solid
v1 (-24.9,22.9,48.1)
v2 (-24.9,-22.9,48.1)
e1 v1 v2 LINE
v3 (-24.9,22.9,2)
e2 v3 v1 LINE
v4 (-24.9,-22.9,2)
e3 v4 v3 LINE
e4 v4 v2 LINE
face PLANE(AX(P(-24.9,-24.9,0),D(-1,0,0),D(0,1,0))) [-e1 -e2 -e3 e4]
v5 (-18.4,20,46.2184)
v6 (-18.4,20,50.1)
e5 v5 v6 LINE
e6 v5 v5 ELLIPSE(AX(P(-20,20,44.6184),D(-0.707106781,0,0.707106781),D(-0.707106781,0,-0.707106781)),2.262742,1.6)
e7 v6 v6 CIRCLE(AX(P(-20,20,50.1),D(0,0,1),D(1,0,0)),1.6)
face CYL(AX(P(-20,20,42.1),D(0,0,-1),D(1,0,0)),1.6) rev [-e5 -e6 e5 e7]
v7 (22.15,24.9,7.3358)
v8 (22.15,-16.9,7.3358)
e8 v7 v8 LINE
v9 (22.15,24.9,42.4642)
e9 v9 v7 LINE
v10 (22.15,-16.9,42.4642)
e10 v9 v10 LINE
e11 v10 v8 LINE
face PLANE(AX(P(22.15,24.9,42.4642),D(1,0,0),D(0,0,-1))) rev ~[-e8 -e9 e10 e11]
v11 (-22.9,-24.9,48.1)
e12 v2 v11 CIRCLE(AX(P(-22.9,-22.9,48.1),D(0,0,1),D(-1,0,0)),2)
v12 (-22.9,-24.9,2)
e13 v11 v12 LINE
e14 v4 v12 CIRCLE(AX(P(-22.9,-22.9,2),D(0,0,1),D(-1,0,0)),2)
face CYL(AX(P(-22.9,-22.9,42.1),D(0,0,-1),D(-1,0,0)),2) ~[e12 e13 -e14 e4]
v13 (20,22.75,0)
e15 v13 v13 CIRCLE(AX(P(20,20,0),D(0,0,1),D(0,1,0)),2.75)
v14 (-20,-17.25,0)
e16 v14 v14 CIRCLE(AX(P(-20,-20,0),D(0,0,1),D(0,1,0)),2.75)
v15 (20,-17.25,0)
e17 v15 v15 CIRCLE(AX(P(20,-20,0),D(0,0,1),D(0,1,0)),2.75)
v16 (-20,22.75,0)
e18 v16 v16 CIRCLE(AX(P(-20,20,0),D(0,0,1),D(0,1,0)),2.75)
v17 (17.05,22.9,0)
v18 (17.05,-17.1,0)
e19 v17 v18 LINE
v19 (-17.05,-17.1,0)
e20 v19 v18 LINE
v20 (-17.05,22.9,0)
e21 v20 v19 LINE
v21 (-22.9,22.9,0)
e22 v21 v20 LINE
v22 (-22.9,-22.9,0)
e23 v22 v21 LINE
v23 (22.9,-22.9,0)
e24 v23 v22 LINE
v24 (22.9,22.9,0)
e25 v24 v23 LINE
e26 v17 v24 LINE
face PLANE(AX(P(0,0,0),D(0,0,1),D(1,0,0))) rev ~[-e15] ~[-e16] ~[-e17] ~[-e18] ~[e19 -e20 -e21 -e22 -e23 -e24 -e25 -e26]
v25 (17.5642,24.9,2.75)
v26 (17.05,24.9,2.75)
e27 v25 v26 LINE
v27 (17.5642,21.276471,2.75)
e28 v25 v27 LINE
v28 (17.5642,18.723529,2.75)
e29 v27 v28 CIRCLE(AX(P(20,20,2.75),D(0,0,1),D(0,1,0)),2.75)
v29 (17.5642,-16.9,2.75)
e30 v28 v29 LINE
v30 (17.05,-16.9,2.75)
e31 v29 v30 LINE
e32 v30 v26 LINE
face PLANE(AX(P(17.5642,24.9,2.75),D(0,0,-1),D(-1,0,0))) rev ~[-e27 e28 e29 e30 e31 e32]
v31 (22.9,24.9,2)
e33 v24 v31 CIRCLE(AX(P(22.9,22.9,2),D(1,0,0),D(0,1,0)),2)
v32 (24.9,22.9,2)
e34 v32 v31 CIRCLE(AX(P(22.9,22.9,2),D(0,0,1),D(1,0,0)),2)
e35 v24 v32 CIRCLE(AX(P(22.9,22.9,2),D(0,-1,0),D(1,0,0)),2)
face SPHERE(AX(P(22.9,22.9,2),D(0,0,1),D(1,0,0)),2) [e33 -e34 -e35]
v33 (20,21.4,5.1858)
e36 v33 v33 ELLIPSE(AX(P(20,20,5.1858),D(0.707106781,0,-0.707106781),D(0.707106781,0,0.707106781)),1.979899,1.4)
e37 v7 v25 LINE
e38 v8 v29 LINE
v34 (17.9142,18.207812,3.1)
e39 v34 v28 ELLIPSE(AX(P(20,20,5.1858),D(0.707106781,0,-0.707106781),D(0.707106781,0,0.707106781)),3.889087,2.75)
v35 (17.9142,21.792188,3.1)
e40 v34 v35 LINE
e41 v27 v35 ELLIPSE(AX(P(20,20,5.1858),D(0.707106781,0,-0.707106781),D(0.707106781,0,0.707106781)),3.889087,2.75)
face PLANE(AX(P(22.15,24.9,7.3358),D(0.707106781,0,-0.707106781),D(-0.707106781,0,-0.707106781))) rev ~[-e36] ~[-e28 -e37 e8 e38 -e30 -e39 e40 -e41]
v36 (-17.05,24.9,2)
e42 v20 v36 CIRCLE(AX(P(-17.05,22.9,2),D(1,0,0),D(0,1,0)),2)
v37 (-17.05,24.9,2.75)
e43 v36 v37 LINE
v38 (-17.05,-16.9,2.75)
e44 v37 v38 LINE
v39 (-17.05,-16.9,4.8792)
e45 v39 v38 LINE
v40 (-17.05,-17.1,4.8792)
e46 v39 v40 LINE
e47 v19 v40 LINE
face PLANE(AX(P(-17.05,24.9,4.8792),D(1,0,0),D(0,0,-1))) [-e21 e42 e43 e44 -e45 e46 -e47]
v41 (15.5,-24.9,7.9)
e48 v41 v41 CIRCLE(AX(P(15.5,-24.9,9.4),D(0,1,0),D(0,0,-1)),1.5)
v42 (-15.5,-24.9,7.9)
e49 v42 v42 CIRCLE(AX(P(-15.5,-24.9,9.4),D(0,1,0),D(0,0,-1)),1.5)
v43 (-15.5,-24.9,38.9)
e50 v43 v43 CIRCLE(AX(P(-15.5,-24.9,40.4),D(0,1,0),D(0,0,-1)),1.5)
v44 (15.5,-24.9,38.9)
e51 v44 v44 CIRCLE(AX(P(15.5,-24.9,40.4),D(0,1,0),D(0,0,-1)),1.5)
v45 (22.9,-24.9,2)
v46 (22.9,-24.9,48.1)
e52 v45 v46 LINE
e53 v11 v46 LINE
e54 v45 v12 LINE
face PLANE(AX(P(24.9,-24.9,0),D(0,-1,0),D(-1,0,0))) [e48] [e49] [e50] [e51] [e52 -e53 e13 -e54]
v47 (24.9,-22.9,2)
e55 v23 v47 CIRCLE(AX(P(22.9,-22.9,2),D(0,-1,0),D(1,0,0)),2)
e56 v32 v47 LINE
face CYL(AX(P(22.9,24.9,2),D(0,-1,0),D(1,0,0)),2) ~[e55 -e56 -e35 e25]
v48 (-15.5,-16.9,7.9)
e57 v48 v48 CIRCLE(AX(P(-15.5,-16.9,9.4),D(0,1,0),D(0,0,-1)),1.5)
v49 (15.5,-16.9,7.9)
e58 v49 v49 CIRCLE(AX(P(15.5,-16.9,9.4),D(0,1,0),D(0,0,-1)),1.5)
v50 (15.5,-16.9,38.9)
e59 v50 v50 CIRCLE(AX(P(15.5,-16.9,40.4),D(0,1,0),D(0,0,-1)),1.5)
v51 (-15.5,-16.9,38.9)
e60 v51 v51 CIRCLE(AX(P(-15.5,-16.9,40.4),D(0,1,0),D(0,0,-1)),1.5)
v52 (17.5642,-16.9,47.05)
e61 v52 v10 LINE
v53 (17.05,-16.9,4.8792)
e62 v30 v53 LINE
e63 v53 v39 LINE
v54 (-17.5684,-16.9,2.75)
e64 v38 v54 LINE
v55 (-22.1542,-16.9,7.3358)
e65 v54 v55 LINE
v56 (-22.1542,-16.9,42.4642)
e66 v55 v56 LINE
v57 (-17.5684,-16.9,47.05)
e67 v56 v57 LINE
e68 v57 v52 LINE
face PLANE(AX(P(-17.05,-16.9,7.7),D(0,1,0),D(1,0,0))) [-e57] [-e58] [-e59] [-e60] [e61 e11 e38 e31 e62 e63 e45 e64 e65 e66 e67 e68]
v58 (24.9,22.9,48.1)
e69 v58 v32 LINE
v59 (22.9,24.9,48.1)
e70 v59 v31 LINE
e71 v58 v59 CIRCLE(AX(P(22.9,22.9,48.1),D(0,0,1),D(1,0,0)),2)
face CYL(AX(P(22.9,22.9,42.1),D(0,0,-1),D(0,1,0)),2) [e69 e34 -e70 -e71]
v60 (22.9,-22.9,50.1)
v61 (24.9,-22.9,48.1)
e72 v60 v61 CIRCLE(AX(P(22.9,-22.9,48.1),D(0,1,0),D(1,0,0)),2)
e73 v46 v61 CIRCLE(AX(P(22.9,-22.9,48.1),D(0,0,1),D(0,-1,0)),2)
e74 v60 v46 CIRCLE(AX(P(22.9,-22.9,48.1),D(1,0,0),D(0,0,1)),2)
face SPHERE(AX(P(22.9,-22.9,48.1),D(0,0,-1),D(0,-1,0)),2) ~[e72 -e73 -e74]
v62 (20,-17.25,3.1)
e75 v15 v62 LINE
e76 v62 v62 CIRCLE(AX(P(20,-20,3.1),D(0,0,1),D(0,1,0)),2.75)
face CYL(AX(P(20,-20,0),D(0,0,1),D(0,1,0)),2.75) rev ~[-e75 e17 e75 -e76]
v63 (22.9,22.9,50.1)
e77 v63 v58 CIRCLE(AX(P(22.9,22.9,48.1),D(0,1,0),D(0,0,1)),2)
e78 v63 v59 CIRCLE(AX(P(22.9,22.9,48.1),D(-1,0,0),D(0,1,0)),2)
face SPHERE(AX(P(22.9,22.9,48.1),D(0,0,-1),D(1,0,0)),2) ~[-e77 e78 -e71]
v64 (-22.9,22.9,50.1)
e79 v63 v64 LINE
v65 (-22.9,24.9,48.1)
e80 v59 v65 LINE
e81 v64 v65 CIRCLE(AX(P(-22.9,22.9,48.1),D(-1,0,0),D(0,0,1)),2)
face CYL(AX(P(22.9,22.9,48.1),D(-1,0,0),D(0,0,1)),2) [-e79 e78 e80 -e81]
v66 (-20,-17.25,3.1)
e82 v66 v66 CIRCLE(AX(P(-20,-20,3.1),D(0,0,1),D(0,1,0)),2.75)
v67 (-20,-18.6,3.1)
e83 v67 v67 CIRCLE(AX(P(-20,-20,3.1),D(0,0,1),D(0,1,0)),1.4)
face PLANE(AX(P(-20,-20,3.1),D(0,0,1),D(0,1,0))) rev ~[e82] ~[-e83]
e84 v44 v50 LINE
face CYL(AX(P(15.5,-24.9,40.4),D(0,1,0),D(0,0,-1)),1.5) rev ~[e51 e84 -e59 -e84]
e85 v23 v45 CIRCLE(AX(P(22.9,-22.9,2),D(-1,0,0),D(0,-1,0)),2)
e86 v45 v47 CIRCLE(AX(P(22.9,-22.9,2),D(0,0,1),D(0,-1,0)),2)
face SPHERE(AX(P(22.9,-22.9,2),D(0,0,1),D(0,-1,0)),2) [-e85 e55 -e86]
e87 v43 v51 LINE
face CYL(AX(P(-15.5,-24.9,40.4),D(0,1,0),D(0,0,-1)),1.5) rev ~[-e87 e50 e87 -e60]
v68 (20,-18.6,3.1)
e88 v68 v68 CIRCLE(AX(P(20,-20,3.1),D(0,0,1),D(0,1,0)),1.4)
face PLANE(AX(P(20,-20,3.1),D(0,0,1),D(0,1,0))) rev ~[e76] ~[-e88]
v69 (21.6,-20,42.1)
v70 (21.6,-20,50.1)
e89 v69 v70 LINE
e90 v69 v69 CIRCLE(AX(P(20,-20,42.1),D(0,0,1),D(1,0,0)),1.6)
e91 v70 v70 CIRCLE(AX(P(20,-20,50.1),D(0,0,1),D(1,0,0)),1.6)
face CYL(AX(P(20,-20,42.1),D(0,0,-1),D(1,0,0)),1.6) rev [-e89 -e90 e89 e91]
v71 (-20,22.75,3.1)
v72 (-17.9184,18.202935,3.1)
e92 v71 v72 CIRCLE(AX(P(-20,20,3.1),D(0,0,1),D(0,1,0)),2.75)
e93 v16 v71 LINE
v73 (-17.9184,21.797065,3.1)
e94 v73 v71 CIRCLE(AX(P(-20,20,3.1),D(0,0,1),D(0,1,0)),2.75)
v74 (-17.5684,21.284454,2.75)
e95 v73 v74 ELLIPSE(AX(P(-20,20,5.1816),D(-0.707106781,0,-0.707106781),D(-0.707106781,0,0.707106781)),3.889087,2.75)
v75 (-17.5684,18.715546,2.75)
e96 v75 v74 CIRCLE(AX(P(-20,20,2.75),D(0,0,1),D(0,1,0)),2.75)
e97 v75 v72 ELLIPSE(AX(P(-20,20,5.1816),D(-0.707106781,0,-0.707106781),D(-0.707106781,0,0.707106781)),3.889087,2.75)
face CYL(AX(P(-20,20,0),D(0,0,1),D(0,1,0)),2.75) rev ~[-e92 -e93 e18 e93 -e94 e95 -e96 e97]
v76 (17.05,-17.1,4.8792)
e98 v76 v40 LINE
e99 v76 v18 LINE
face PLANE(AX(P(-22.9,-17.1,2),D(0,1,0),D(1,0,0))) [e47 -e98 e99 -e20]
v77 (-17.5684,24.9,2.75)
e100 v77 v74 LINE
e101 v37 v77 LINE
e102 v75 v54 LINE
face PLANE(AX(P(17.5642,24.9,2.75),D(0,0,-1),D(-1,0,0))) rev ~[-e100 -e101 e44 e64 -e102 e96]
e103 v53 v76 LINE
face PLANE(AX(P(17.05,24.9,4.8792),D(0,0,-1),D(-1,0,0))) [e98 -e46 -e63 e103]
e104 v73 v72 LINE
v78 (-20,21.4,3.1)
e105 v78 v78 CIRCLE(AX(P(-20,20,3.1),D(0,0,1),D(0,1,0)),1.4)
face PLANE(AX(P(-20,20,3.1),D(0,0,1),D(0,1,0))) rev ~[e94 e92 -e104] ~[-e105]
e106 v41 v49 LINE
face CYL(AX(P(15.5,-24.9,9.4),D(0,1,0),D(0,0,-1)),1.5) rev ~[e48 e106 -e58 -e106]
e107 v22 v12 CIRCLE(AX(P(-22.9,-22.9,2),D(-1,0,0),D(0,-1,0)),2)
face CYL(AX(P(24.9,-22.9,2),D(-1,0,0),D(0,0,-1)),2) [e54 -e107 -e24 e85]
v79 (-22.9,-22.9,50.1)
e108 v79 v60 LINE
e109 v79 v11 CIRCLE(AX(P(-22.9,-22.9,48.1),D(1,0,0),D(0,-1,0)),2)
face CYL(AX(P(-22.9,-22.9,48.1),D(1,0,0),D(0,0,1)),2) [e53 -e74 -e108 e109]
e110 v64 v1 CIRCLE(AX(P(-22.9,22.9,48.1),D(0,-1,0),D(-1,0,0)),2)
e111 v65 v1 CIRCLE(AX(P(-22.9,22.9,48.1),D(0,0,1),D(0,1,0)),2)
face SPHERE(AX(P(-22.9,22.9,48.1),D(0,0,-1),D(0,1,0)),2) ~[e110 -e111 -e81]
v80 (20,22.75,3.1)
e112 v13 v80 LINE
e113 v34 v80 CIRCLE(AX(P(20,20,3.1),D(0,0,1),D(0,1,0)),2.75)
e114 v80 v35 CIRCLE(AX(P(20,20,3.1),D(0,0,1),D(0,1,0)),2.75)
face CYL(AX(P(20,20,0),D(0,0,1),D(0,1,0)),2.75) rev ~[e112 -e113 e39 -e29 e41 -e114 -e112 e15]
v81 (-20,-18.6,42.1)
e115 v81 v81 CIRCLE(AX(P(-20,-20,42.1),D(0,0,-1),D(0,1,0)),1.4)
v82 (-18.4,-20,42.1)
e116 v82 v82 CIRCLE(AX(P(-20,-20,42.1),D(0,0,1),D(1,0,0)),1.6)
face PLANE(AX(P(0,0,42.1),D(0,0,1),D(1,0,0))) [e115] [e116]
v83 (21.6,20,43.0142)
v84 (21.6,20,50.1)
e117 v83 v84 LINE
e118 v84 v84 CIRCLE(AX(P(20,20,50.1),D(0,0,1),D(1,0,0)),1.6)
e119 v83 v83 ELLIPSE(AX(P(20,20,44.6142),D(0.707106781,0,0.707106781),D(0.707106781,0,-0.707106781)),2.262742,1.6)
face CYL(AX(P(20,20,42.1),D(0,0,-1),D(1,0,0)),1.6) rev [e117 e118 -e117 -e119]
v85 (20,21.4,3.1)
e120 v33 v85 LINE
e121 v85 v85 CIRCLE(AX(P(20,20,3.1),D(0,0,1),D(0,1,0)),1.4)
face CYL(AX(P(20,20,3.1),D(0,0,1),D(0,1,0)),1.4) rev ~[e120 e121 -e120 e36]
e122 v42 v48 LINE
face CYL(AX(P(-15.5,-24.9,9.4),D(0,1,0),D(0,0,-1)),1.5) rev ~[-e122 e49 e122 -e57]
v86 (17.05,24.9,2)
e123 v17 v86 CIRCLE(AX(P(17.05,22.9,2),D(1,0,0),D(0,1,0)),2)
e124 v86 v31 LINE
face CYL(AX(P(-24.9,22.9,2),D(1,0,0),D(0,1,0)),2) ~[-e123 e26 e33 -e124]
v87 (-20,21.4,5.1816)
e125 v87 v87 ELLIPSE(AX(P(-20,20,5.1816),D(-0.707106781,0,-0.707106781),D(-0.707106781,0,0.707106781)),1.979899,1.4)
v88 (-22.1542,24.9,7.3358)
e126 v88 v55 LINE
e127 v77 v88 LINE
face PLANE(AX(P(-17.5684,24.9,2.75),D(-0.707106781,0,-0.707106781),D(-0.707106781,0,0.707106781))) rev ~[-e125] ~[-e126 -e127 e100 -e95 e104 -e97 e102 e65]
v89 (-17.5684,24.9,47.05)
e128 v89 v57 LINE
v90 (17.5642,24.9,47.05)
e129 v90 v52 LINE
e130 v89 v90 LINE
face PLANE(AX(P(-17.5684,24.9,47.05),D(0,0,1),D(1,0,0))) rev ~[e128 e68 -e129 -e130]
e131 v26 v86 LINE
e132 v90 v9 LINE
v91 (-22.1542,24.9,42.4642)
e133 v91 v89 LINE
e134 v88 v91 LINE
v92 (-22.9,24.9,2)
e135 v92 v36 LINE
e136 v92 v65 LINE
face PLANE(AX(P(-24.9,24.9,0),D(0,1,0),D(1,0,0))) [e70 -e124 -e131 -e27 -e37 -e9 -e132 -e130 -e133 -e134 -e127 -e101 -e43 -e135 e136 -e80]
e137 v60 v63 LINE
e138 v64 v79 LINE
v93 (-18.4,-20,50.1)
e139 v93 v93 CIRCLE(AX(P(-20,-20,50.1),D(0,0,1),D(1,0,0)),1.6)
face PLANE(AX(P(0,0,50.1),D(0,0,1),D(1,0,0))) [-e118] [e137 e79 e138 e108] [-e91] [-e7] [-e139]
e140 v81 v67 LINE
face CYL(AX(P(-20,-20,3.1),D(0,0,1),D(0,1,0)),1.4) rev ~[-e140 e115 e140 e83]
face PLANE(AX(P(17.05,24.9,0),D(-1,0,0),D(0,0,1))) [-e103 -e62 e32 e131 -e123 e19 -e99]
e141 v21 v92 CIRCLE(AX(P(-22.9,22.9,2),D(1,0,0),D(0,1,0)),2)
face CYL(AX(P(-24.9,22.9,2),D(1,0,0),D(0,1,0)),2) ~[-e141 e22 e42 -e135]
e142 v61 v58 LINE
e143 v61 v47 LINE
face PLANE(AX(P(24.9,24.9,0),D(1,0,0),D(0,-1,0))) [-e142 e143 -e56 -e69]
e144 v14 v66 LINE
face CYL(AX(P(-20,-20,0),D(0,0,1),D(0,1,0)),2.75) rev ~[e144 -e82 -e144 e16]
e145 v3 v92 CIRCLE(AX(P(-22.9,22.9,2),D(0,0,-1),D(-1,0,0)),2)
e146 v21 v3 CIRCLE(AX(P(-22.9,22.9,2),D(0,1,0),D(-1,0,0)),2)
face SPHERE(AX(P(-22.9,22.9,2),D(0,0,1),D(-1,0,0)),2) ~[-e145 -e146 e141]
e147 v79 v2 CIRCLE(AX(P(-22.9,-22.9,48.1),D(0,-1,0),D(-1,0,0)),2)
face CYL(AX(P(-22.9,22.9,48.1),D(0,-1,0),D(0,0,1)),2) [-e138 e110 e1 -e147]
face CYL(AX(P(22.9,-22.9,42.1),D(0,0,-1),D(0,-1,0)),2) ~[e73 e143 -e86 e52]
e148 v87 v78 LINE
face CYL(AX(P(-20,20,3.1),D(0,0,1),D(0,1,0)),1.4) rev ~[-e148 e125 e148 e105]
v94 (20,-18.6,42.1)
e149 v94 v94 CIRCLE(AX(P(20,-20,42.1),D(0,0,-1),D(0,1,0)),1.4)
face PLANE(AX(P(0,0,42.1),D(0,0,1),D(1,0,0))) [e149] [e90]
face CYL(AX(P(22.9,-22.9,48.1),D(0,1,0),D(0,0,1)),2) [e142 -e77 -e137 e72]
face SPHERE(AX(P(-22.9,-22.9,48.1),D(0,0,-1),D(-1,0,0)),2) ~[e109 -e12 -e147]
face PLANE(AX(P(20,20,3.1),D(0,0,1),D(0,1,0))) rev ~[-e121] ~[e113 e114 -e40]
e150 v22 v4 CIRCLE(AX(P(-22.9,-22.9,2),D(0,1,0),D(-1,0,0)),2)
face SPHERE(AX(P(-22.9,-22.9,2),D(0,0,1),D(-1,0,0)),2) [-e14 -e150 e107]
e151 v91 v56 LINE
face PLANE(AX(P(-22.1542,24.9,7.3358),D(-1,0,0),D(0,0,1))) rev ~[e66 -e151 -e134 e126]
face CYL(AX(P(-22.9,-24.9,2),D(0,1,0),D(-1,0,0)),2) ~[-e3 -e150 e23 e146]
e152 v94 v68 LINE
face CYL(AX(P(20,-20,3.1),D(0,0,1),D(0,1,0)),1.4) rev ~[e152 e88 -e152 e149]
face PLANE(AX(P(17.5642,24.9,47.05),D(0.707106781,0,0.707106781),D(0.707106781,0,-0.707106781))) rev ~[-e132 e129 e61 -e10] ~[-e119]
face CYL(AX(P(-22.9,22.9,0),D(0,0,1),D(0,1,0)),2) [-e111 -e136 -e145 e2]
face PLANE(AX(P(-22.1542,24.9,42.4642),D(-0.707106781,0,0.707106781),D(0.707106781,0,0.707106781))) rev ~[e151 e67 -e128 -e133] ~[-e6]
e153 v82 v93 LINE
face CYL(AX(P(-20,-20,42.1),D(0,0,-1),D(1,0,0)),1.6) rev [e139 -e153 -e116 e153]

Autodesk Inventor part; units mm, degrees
ref_plane "YZ Plane" through (0, 0, 0) normal (1, 0, 0) x (0, 1, 0)
ref_plane "XZ Plane" through (0, 0, 0) normal (0, 1, 0) x (-1, 0, 0)
ref_plane "XY Plane" through (0, 0, 0) normal (0, 0, 1) x (1, 0, 0)
sketch "Sketch1" plane through (0, 0, 0) normal (0, 0, 1) x (1, 0, 0)
  line L0 (-24.9, 24.9) -> (24.9, 24.9)
  line L1 (24.9, 24.9) -> (24.9, -24.9)
  line L2 (24.9, -24.9) -> (-24.9, -24.9)
  line L3 (-24.9, -24.9) -> (-24.9, 24.9)
  line L4 (-24.9, 24.9) -> (24.9, -24.9) construction
  line L5 (24.9, 24.9) -> (-24.9, -24.9) construction
  line L6 (17.05, 17.05) -> (-17.05, 17.05)
  line L7 (-17.05, 17.05) -> (-17.05, -17.05)
  line L8 (-17.05, -17.05) -> (17.05, -17.05)
  line L9 (17.05, -17.05) -> (17.05, 17.05)
  point P0 (0, 0)
  dimension "d0" = 49.8
  dimension "d1" = 49.8
  dimension "d2" = 7.85
extrude "Extrusion1" add sketch "Sketch1" along normal blind 7.7 contours L0 L1 L2 L3 | L9 L8 L7 L6
sketch "Sketch2" plane through (0, 0, 7.7) normal (0, 0, 1) x (1, 0, 0)
  line L0 (24.9, 24.9) -> (-24.9, 24.9) projected
  line L1 (-24.9, 24.9) -> (-24.9, -24.9) projected
  line L2 (-24.9, -24.9) -> (24.9, -24.9) projected
  line L3 (24.9, -24.9) -> (24.9, 24.9) projected
  line L4 (17.05, -17.05) -> (24.9, -17.05)
  line L5 (24.9, -17.05) -> (24.9, -24.9)
  line L6 (24.9, -24.9) -> (17.05, -24.9)
  line L7 (17.05, -24.9) -> (17.05, -17.05)
  line L8 (17.05, 17.05) -> (-17.05, 17.05) projected
  line L9 (24.9, 24.9) -> (17.05, 24.9)
  line L10 (17.05, 24.9) -> (17.05, 17.05)
  line L11 (17.05, 17.05) -> (24.9, 17.05)
  line L12 (24.9, 17.05) -> (24.9, 24.9)
  line L13 (-24.9, -24.9) -> (-17.05, -24.9)
  line L14 (-17.05, -24.9) -> (-17.05, -17.05)
  line L15 (-17.05, -17.05) -> (-24.9, -17.05)
  line L16 (-24.9, -17.05) -> (-24.9, -24.9)
  line L17 (-24.9, 24.9) -> (-17.05, 24.9)
  line L18 (-17.05, 24.9) -> (-17.05, 17.05)
  line L19 (-17.05, 17.05) -> (-24.9, 17.05)
  line L20 (-24.9, 17.05) -> (-24.9, 24.9)
  point P0 (0, 0)
extrude "Extrusion2" add sketch "Sketch2" along normal blind 34.4
sketch "Sketch3" plane through (0, 0, 0) normal (0, 0, -1) x (-1, 0, 0)
  line L0 (24.9, -24.9) -> (24.9, 24.9) construction
  line L1 (24.9, 24.9) -> (-24.9, 24.9) construction
  line L2 (-24.9, -24.9) -> (24.9, -24.9) construction
  line L3 (-24.9, 24.9) -> (-24.9, -24.9) construction
  point P0 (20, 20)
  point P1 (20, -20)
  point P2 (-20, -20)
  point P3 (-20, 20)
  dimension "d_1" = 4.9
  dimension "d96" = 4.9
  dimension "d97" = 4.9
  dimension "d98" = 4.9
  dimension "d99" = 4.9
  dimension "d100" = 4.9
  dimension "d101" = 4.9
  dimension "d102" = 4.9
hole "Hole1" at (-20, 20, 0) at (-20, -20, 0) at (20, -20, 0) at (20, 20, 0) direction (0, 0, 1) diameter 2.8 end through all counterbore diameter 5.5 counterbore depth 3.1
fillet "Fillet1" radius 2 8 edges at (24.9, 24.9, 21.05) (24.9, -24.9, 21.05) (-24.9, -24.9, 21.05) (-24.9, 24.9, 21.05) (-24.9, 0, 0) (0, -24.9, 0) (24.9, 0, 0) (0, 24.9, 0)
sketch "Sketch9" plane through (0, 0, 42.1) normal (0, 0, 1) x (1, 0, 0)
  arc A0 (19.486, 18.6978) -> (18.6978, 19.486) centre (20, 20) ccw projected
  arc A1 (18.6978, -19.486) -> (19.486, -18.6978) centre (20, -20) ccw projected
  arc A2 (-19.486, -18.6978) -> (-18.6978, -19.486) centre (-20, -20) ccw projected
  arc A3 (-18.6978, 19.486) -> (-19.486, 18.6978) centre (-20, 20) ccw projected
hole "Hole2" at (20, 20, 42.1) at (-20, 20, 42.1) at (20, -20, 42.1) at (-20, -20, 42.1) direction (0, 0, -1) diameter 2.8 depth 12
sketch "Sketch15" plane through (0, 0, 0) normal (0, 0, -1) x (-1, 0, 0)
  circle A0 centre (-20, 20) radius 2.75 construction
  circle A1 centre (20, -20) radius 2.75 construction
  circle A2 centre (20, 20) radius 2.75 construction
  circle A3 centre (-20, -20) radius 2.75 construction
  line L0 (-22.9, 22.9) -> (22.9, 22.9) construction
  line L1 (-22.9, -22.9) -> (-22.9, 22.9) construction
  line L2 (22.9, -22.9) -> (-22.9, -22.9) construction
  line L3 (22.9, 22.9) -> (22.9, -22.9) construction
  line L4 (17.05, 21.1338) -> (-17.05, 21.1338) construction
  point P0 (0, 0)
  point P1 (-20.8, -14.5)
  point P2 (-14.5, -20.8)
  point P3 (14.5, -20.8)
  point P4 (20.8, -14.5)
  point P5 (20.8, 14.5)
  point P6 (14.5, 20.8)
  point P7 (-14.5, 20.8)
  point P8 (-20.8, 14.5)
hole "Hole8" [suppressed]
ref_plane "Arbeitsebene3" through (0, -17.05, 7.7) normal (1, 0, 0) x (0, 0, -1)
sketch "Skizze19" plane through (-22.9, -24.9, 42.1) normal (0, -1, 0) x (1, 0, 0)
  circle A0 centre (22.9, -17.2) radius 11.5 projected
  circle A1 centre (38.4, -1.7) radius 1.5 projected
  circle A2 centre (7.4, -1.7) radius 1.5 projected
  circle A3 centre (7.4, -32.7) radius 1.5 projected
  circle A4 centre (38.4, -32.7) radius 1.5 projected
  point P0 (22.9, -42.1)
hole "Bohrung9" at (-15.5, -24.9, 40.4) at (15.5, -24.9, 40.4) at (15.5, -24.9, 9.4) at (-15.5, -24.9, 9.4) direction (0, 1, 0) diameter 3 end through all
sketch "Skizze20" plane through (0, 0, 42.1) normal (0, 0, 1) x (1, 0, 0)
  line L0 (24.9, 22.9) -> (24.9, -22.9) projected
  arc A0 (22.9, -24.9) -> (24.9, -22.9) centre (22.9, -22.9) ccw projected
  line L1 (22.9, -24.9) -> (-22.9, -24.9) projected
  arc A1 (-24.9, -22.9) -> (-22.9, -24.9) centre (-22.9, -22.9) ccw projected
  line L2 (-24.9, -22.9) -> (-24.9, 22.9) projected
  arc A2 (-22.9, 24.9) -> (-24.9, 22.9) centre (-22.9, 22.9) ccw projected
  line L3 (-22.9, 24.9) -> (22.9, 24.9) projected
  arc A3 (24.9, 22.9) -> (22.9, 24.9) centre (22.9, 22.9) ccw projected
  circle A4 centre (-20, 20) radius 1.6 projected
  circle A5 centre (20, -20) radius 1.6 projected
  circle A6 centre (20, 20) radius 1.6 projected
  circle A7 centre (-20, -20) radius 1.6 projected
  arc A8 (21.65, 12.3091) -> (21.65, 16.6909) centre (20.8, 14.5) ccw projected
  line L4 (21.65, 17.05) -> (21.65, 16.6909) projected
  line L5 (21.65, 17.05) -> (17.05, 17.05) projected
  line L6 (17.05, 17.05) -> (17.05, 21.65) projected
  line L7 (17.05, 21.65) -> (16.6909, 21.65) projected
  arc A9 (16.6909, 21.65) -> (12.3091, 21.65) centre (14.5, 20.8) ccw projected
  line L8 (12.3091, 21.65) -> (-12.3091, 21.65) projected
  arc A10 (-12.3091, 21.65) -> (-16.6909, 21.65) centre (-14.5, 20.8) ccw projected
  line L9 (-16.6909, 21.65) -> (-17.05, 21.65) projected
  line L10 (-17.05, 21.65) -> (-17.05, 17.05) projected
  line L11 (-17.05, 17.05) -> (-21.65, 17.05) projected
  line L12 (-21.65, 16.6909) -> (-21.65, 17.05) projected
  arc A11 (-21.65, 16.6909) -> (-21.65, 12.3091) centre (-20.8, 14.5) ccw projected
  line L13 (-21.65, -12.3091) -> (-21.65, 12.3091) projected
  arc A12 (-21.65, -12.3091) -> (-21.65, -16.6909) centre (-20.8, -14.5) ccw projected
  line L14 (-21.65, -17.05) -> (-21.65, -16.6909) projected
  line L15 (-21.65, -17.05) -> (-17.05, -17.05) projected
  line L16 (-17.05, -17.05) -> (-17.05, -21.65) projected
  line L17 (-17.05, -21.65) -> (-16.6909, -21.65) projected
  arc A13 (-16.6909, -21.65) -> (-12.3091, -21.65) centre (-14.5, -20.8) ccw projected
  line L18 (-12.3091, -21.65) -> (12.3091, -21.65) projected
  arc A14 (12.3091, -21.65) -> (16.6909, -21.65) centre (14.5, -20.8) ccw projected
  line L19 (16.6909, -21.65) -> (17.05, -21.65) projected
  line L20 (17.05, -21.65) -> (17.05, -17.05) projected
  line L21 (17.05, -17.05) -> (21.65, -17.05) projected
  line L22 (21.65, -16.6909) -> (21.65, -17.05) projected
  arc A15 (21.65, -16.6909) -> (21.65, -12.3091) centre (20.8, -14.5) ccw projected
  line L23 (21.65, 12.3091) -> (21.65, -12.3091) projected
  line L24 (-17.05, 17.05) -> (-17.05, -17.05) projected
  line L25 (-17.05, 17.05) -> (-17.05, -17.05)
  line L26 (-21.2838, 17.05) -> (-17.05, 17.05) projected
  line L27 (-17.05, 17.05) -> (17.05, 17.05)
  line L28 (17.05, 17.05) -> (17.05, -17.05)
  line L29 (17.05, -17.05) -> (-17.05, -17.05)
  line L30 (-17.05, -17.05) -> (-17.05, 17.05)
  point P0 (0, 0)
  point P1 (-17.05, -17.05)
extrude "Extrusion8" add sketch "Skizze20" along normal blind 8 contours L0 A0 L1 A1 L2 A2 L3 A3 | L23 A15 L22 L21 L28 L5 L4 A8 | L27 L10 L9 A10 L8 A9 L7 L6 | L28 L29 L24 L27 | L24 L15 L14 A12 L13 A11 L12 L11 | L20 L19 A14 L18 A13 L17 L16 L29
fillet "Rundung2" radius 2 8 edges at (-24.3142, -24.3142, 50.1) (0, -24.9, 50.1) (24.3142, -24.3142, 50.1) (24.9, 0, 50.1) (24.3142, 24.3142, 50.1) (0, 24.9, 50.1) (-24.3142, 24.3142, 50.1) (-24.9, 0, 50.1)
sketch "Skizze18" plane through (-17.05, 24.9, 7.7) normal (0, 1, 0) x (1, 0, 0)
  line L0 (-4.1, -34.35) -> (-0.1, -38.35) projected
  line L1 (-0.1, -38.35) -> (2.9, -38.35) projected
  line L2 (-4.1, -31.35) -> (2.9, -38.35) projected
  line L3 (-4.1, -31.35) -> (-4.1, -34.35) projected
  line L4 (-4.1, -34.35) -> (-0.1, -38.35) projected
  line L5 (38.2, -31.35) -> (38.2, -3.05) projected
  line L6 (38.2, -3.05) -> (31.2, 3.95) projected
  line L7 (31.2, 3.95) -> (2.9, 3.95) projected
  line L8 (2.9, 3.95) -> (-4.1, -3.05) projected
  line L9 (-4.1, -3.05) -> (-4.1, -31.35) projected
  line L10 (-4.1, -31.35) -> (2.9, -38.35) projected
  line L11 (2.9, -38.35) -> (31.2, -38.35) projected
  line L12 (31.2, -38.35) -> (38.2, -31.35) projected
  circle A0 centre (17.05, -17.2) radius 2.5 projected
  circle A1 centre (1.55, -1.7) radius 1.5 projected
  circle A2 centre (1.55, -32.7) radius 1.5 projected
  circle A3 centre (32.55, -32.7) radius 1.5 projected
  circle A4 centre (32.55, -1.7) radius 1.5 projected
  circle A5 centre (17.05, -17.2) radius 4.6 projected
  line L13 (-4.1, -31.35) -> (-4.1, -3.05) projected
  line L14 (2.9, -38.35) -> (-4.1, -31.35) projected
  line L15 (31.2, -38.35) -> (2.9, -38.35) projected
  line L16 (38.2, -31.35) -> (31.2, -38.35) projected
  line L17 (38.2, -3.05) -> (38.2, -31.35) projected
  line L18 (31.2, 3.95) -> (38.2, -3.05) projected
  line L19 (2.9, 3.95) -> (31.2, 3.95) projected
  line L20 (-4.1, -3.05) -> (2.9, 3.95) projected
  line L21 (-0.1042, 3.95) -> (34.2, 3.95)
  line L22 (38.2, -0.05) -> (38.2, -34.35)
  line L23 (34.2, -38.35) -> (-0.1042, -38.35)
  line L24 (-4.1042, -34.35) -> (-4.1042, -0.05)
  line L25 (-4.1042, -0.05) -> (-0.1042, 3.95)
  line L26 (-4.1042, -34.35) -> (-0.1042, -38.35)
  line L27 (34.2, -38.35) -> (38.2, -34.35)
  line L28 (38.2, -0.05) -> (34.2, 3.95)
  line L29 (-0.5184, 4.95) -> (-5.1042, 0.3642)
  line L30 (-5.1042, 0.3642) -> (-5.1042, -34.7642)
  line L31 (-5.1042, -34.7642) -> (-0.5184, -39.35)
  line L32 (-0.5184, -39.35) -> (34.6142, -39.35)
  line L33 (34.6142, -39.35) -> (39.2, -34.7642)
  line L34 (39.2, -34.7642) -> (39.2, 0.3642)
  line L35 (39.2, 0.3642) -> (34.6142, 4.95)
  line L36 (34.6142, 4.95) -> (-0.5184, 4.95)
  point P0 (17.05, 7.7)
  point P1 (-4.1042, 3.95)
  point P2 (38.2, -38.35)
  point P3 (38.2, 3.95)
  point P4 (-4.1042, -38.35)
  dimension "d126" = 4
  dimension "d127" = 4
  dimension "d128" = 4
  dimension "d129" = 4
  dimension "d130" = 4
  dimension "d131" = 4
  dimension "d132" = 4
  dimension "d133" = 4
  dimension "d134" = 1
extrude "Extrusion7" cut sketch "Skizze18" against normal blind 41.8 contours L3 L2 L1 L0 | L0 L23 L26 L24 L25 L21 L8 L9 L3 | L9 L8 L7 L6 L5 L12 L11 L2 | L12 L22 L27 L23 | L21 L28 L22 L6 | A0 | A1 | A2 | A3 | A4 | A5 | L36 L35 L34 L33 L32 L31 L30 L29
sketch "Skizze23" plane through (-22.9, 24.9, 2) normal (0, 1, 0) x (1, 0, 0)
  circle A0 centre (22.9, -22.9) radius 2.5 projected
  line L0 (15.4, -1.0242) -> (30.4, -1.0242)
  line L1 (30.4, -1.0242) -> (30.4, 5.0242)
  line L2 (30.4, 5.0242) -> (15.4, 5.0242)
  line L3 (15.4, 5.0242) -> (15.4, -1.0242)
  line L4 (15.4, -1.0242) -> (30.4, 5.0242) construction
  line L5 (30.4, -1.0242) -> (15.4, 5.0242) construction
  line L6 (5.85, 2) -> (5.85, -0.75) projected
  line L7 (40.15, 2) -> (45.65, 2) projected
  line L8 (39.95, 2) -> (39.95, -0.75) projected
  line L9 (5.85, 2) -> (39.95, 2)
  line L10 (39.95, 2) -> (39.95, -2.8792)
  line L11 (39.95, -2.8792) -> (5.85, -2.8792)
  line L12 (5.85, -2.8792) -> (5.85, 2)
  point P0 (22.9, 2)
  point P1 (15.4, 2)
  point P2 (5.85, -0.75)
  point P3 (30.4, 2)
  dimension "d156" = 15
extrude "Extrusion10" cut sketch "Skizze23" against normal blind 42 contours L3 L9 L1 L0 | L0 L1 L9 L8 L10 L11 L12 L6 L3 | L3 L2 L1 L9
equation "\"d1\" = d0"
equation "\"d96\" = d_1"
equation "\"d97\" = d_1"
equation "\"d98\" = d_1"
equation "\"d99\" = d_1"
equation "\"d100\" = d_1"
equation "\"d101\" = d_1"
equation "\"d102\" = d_1"
properties part number "55_spiralxy_slidemount_MGN9_Nema17_Body"
